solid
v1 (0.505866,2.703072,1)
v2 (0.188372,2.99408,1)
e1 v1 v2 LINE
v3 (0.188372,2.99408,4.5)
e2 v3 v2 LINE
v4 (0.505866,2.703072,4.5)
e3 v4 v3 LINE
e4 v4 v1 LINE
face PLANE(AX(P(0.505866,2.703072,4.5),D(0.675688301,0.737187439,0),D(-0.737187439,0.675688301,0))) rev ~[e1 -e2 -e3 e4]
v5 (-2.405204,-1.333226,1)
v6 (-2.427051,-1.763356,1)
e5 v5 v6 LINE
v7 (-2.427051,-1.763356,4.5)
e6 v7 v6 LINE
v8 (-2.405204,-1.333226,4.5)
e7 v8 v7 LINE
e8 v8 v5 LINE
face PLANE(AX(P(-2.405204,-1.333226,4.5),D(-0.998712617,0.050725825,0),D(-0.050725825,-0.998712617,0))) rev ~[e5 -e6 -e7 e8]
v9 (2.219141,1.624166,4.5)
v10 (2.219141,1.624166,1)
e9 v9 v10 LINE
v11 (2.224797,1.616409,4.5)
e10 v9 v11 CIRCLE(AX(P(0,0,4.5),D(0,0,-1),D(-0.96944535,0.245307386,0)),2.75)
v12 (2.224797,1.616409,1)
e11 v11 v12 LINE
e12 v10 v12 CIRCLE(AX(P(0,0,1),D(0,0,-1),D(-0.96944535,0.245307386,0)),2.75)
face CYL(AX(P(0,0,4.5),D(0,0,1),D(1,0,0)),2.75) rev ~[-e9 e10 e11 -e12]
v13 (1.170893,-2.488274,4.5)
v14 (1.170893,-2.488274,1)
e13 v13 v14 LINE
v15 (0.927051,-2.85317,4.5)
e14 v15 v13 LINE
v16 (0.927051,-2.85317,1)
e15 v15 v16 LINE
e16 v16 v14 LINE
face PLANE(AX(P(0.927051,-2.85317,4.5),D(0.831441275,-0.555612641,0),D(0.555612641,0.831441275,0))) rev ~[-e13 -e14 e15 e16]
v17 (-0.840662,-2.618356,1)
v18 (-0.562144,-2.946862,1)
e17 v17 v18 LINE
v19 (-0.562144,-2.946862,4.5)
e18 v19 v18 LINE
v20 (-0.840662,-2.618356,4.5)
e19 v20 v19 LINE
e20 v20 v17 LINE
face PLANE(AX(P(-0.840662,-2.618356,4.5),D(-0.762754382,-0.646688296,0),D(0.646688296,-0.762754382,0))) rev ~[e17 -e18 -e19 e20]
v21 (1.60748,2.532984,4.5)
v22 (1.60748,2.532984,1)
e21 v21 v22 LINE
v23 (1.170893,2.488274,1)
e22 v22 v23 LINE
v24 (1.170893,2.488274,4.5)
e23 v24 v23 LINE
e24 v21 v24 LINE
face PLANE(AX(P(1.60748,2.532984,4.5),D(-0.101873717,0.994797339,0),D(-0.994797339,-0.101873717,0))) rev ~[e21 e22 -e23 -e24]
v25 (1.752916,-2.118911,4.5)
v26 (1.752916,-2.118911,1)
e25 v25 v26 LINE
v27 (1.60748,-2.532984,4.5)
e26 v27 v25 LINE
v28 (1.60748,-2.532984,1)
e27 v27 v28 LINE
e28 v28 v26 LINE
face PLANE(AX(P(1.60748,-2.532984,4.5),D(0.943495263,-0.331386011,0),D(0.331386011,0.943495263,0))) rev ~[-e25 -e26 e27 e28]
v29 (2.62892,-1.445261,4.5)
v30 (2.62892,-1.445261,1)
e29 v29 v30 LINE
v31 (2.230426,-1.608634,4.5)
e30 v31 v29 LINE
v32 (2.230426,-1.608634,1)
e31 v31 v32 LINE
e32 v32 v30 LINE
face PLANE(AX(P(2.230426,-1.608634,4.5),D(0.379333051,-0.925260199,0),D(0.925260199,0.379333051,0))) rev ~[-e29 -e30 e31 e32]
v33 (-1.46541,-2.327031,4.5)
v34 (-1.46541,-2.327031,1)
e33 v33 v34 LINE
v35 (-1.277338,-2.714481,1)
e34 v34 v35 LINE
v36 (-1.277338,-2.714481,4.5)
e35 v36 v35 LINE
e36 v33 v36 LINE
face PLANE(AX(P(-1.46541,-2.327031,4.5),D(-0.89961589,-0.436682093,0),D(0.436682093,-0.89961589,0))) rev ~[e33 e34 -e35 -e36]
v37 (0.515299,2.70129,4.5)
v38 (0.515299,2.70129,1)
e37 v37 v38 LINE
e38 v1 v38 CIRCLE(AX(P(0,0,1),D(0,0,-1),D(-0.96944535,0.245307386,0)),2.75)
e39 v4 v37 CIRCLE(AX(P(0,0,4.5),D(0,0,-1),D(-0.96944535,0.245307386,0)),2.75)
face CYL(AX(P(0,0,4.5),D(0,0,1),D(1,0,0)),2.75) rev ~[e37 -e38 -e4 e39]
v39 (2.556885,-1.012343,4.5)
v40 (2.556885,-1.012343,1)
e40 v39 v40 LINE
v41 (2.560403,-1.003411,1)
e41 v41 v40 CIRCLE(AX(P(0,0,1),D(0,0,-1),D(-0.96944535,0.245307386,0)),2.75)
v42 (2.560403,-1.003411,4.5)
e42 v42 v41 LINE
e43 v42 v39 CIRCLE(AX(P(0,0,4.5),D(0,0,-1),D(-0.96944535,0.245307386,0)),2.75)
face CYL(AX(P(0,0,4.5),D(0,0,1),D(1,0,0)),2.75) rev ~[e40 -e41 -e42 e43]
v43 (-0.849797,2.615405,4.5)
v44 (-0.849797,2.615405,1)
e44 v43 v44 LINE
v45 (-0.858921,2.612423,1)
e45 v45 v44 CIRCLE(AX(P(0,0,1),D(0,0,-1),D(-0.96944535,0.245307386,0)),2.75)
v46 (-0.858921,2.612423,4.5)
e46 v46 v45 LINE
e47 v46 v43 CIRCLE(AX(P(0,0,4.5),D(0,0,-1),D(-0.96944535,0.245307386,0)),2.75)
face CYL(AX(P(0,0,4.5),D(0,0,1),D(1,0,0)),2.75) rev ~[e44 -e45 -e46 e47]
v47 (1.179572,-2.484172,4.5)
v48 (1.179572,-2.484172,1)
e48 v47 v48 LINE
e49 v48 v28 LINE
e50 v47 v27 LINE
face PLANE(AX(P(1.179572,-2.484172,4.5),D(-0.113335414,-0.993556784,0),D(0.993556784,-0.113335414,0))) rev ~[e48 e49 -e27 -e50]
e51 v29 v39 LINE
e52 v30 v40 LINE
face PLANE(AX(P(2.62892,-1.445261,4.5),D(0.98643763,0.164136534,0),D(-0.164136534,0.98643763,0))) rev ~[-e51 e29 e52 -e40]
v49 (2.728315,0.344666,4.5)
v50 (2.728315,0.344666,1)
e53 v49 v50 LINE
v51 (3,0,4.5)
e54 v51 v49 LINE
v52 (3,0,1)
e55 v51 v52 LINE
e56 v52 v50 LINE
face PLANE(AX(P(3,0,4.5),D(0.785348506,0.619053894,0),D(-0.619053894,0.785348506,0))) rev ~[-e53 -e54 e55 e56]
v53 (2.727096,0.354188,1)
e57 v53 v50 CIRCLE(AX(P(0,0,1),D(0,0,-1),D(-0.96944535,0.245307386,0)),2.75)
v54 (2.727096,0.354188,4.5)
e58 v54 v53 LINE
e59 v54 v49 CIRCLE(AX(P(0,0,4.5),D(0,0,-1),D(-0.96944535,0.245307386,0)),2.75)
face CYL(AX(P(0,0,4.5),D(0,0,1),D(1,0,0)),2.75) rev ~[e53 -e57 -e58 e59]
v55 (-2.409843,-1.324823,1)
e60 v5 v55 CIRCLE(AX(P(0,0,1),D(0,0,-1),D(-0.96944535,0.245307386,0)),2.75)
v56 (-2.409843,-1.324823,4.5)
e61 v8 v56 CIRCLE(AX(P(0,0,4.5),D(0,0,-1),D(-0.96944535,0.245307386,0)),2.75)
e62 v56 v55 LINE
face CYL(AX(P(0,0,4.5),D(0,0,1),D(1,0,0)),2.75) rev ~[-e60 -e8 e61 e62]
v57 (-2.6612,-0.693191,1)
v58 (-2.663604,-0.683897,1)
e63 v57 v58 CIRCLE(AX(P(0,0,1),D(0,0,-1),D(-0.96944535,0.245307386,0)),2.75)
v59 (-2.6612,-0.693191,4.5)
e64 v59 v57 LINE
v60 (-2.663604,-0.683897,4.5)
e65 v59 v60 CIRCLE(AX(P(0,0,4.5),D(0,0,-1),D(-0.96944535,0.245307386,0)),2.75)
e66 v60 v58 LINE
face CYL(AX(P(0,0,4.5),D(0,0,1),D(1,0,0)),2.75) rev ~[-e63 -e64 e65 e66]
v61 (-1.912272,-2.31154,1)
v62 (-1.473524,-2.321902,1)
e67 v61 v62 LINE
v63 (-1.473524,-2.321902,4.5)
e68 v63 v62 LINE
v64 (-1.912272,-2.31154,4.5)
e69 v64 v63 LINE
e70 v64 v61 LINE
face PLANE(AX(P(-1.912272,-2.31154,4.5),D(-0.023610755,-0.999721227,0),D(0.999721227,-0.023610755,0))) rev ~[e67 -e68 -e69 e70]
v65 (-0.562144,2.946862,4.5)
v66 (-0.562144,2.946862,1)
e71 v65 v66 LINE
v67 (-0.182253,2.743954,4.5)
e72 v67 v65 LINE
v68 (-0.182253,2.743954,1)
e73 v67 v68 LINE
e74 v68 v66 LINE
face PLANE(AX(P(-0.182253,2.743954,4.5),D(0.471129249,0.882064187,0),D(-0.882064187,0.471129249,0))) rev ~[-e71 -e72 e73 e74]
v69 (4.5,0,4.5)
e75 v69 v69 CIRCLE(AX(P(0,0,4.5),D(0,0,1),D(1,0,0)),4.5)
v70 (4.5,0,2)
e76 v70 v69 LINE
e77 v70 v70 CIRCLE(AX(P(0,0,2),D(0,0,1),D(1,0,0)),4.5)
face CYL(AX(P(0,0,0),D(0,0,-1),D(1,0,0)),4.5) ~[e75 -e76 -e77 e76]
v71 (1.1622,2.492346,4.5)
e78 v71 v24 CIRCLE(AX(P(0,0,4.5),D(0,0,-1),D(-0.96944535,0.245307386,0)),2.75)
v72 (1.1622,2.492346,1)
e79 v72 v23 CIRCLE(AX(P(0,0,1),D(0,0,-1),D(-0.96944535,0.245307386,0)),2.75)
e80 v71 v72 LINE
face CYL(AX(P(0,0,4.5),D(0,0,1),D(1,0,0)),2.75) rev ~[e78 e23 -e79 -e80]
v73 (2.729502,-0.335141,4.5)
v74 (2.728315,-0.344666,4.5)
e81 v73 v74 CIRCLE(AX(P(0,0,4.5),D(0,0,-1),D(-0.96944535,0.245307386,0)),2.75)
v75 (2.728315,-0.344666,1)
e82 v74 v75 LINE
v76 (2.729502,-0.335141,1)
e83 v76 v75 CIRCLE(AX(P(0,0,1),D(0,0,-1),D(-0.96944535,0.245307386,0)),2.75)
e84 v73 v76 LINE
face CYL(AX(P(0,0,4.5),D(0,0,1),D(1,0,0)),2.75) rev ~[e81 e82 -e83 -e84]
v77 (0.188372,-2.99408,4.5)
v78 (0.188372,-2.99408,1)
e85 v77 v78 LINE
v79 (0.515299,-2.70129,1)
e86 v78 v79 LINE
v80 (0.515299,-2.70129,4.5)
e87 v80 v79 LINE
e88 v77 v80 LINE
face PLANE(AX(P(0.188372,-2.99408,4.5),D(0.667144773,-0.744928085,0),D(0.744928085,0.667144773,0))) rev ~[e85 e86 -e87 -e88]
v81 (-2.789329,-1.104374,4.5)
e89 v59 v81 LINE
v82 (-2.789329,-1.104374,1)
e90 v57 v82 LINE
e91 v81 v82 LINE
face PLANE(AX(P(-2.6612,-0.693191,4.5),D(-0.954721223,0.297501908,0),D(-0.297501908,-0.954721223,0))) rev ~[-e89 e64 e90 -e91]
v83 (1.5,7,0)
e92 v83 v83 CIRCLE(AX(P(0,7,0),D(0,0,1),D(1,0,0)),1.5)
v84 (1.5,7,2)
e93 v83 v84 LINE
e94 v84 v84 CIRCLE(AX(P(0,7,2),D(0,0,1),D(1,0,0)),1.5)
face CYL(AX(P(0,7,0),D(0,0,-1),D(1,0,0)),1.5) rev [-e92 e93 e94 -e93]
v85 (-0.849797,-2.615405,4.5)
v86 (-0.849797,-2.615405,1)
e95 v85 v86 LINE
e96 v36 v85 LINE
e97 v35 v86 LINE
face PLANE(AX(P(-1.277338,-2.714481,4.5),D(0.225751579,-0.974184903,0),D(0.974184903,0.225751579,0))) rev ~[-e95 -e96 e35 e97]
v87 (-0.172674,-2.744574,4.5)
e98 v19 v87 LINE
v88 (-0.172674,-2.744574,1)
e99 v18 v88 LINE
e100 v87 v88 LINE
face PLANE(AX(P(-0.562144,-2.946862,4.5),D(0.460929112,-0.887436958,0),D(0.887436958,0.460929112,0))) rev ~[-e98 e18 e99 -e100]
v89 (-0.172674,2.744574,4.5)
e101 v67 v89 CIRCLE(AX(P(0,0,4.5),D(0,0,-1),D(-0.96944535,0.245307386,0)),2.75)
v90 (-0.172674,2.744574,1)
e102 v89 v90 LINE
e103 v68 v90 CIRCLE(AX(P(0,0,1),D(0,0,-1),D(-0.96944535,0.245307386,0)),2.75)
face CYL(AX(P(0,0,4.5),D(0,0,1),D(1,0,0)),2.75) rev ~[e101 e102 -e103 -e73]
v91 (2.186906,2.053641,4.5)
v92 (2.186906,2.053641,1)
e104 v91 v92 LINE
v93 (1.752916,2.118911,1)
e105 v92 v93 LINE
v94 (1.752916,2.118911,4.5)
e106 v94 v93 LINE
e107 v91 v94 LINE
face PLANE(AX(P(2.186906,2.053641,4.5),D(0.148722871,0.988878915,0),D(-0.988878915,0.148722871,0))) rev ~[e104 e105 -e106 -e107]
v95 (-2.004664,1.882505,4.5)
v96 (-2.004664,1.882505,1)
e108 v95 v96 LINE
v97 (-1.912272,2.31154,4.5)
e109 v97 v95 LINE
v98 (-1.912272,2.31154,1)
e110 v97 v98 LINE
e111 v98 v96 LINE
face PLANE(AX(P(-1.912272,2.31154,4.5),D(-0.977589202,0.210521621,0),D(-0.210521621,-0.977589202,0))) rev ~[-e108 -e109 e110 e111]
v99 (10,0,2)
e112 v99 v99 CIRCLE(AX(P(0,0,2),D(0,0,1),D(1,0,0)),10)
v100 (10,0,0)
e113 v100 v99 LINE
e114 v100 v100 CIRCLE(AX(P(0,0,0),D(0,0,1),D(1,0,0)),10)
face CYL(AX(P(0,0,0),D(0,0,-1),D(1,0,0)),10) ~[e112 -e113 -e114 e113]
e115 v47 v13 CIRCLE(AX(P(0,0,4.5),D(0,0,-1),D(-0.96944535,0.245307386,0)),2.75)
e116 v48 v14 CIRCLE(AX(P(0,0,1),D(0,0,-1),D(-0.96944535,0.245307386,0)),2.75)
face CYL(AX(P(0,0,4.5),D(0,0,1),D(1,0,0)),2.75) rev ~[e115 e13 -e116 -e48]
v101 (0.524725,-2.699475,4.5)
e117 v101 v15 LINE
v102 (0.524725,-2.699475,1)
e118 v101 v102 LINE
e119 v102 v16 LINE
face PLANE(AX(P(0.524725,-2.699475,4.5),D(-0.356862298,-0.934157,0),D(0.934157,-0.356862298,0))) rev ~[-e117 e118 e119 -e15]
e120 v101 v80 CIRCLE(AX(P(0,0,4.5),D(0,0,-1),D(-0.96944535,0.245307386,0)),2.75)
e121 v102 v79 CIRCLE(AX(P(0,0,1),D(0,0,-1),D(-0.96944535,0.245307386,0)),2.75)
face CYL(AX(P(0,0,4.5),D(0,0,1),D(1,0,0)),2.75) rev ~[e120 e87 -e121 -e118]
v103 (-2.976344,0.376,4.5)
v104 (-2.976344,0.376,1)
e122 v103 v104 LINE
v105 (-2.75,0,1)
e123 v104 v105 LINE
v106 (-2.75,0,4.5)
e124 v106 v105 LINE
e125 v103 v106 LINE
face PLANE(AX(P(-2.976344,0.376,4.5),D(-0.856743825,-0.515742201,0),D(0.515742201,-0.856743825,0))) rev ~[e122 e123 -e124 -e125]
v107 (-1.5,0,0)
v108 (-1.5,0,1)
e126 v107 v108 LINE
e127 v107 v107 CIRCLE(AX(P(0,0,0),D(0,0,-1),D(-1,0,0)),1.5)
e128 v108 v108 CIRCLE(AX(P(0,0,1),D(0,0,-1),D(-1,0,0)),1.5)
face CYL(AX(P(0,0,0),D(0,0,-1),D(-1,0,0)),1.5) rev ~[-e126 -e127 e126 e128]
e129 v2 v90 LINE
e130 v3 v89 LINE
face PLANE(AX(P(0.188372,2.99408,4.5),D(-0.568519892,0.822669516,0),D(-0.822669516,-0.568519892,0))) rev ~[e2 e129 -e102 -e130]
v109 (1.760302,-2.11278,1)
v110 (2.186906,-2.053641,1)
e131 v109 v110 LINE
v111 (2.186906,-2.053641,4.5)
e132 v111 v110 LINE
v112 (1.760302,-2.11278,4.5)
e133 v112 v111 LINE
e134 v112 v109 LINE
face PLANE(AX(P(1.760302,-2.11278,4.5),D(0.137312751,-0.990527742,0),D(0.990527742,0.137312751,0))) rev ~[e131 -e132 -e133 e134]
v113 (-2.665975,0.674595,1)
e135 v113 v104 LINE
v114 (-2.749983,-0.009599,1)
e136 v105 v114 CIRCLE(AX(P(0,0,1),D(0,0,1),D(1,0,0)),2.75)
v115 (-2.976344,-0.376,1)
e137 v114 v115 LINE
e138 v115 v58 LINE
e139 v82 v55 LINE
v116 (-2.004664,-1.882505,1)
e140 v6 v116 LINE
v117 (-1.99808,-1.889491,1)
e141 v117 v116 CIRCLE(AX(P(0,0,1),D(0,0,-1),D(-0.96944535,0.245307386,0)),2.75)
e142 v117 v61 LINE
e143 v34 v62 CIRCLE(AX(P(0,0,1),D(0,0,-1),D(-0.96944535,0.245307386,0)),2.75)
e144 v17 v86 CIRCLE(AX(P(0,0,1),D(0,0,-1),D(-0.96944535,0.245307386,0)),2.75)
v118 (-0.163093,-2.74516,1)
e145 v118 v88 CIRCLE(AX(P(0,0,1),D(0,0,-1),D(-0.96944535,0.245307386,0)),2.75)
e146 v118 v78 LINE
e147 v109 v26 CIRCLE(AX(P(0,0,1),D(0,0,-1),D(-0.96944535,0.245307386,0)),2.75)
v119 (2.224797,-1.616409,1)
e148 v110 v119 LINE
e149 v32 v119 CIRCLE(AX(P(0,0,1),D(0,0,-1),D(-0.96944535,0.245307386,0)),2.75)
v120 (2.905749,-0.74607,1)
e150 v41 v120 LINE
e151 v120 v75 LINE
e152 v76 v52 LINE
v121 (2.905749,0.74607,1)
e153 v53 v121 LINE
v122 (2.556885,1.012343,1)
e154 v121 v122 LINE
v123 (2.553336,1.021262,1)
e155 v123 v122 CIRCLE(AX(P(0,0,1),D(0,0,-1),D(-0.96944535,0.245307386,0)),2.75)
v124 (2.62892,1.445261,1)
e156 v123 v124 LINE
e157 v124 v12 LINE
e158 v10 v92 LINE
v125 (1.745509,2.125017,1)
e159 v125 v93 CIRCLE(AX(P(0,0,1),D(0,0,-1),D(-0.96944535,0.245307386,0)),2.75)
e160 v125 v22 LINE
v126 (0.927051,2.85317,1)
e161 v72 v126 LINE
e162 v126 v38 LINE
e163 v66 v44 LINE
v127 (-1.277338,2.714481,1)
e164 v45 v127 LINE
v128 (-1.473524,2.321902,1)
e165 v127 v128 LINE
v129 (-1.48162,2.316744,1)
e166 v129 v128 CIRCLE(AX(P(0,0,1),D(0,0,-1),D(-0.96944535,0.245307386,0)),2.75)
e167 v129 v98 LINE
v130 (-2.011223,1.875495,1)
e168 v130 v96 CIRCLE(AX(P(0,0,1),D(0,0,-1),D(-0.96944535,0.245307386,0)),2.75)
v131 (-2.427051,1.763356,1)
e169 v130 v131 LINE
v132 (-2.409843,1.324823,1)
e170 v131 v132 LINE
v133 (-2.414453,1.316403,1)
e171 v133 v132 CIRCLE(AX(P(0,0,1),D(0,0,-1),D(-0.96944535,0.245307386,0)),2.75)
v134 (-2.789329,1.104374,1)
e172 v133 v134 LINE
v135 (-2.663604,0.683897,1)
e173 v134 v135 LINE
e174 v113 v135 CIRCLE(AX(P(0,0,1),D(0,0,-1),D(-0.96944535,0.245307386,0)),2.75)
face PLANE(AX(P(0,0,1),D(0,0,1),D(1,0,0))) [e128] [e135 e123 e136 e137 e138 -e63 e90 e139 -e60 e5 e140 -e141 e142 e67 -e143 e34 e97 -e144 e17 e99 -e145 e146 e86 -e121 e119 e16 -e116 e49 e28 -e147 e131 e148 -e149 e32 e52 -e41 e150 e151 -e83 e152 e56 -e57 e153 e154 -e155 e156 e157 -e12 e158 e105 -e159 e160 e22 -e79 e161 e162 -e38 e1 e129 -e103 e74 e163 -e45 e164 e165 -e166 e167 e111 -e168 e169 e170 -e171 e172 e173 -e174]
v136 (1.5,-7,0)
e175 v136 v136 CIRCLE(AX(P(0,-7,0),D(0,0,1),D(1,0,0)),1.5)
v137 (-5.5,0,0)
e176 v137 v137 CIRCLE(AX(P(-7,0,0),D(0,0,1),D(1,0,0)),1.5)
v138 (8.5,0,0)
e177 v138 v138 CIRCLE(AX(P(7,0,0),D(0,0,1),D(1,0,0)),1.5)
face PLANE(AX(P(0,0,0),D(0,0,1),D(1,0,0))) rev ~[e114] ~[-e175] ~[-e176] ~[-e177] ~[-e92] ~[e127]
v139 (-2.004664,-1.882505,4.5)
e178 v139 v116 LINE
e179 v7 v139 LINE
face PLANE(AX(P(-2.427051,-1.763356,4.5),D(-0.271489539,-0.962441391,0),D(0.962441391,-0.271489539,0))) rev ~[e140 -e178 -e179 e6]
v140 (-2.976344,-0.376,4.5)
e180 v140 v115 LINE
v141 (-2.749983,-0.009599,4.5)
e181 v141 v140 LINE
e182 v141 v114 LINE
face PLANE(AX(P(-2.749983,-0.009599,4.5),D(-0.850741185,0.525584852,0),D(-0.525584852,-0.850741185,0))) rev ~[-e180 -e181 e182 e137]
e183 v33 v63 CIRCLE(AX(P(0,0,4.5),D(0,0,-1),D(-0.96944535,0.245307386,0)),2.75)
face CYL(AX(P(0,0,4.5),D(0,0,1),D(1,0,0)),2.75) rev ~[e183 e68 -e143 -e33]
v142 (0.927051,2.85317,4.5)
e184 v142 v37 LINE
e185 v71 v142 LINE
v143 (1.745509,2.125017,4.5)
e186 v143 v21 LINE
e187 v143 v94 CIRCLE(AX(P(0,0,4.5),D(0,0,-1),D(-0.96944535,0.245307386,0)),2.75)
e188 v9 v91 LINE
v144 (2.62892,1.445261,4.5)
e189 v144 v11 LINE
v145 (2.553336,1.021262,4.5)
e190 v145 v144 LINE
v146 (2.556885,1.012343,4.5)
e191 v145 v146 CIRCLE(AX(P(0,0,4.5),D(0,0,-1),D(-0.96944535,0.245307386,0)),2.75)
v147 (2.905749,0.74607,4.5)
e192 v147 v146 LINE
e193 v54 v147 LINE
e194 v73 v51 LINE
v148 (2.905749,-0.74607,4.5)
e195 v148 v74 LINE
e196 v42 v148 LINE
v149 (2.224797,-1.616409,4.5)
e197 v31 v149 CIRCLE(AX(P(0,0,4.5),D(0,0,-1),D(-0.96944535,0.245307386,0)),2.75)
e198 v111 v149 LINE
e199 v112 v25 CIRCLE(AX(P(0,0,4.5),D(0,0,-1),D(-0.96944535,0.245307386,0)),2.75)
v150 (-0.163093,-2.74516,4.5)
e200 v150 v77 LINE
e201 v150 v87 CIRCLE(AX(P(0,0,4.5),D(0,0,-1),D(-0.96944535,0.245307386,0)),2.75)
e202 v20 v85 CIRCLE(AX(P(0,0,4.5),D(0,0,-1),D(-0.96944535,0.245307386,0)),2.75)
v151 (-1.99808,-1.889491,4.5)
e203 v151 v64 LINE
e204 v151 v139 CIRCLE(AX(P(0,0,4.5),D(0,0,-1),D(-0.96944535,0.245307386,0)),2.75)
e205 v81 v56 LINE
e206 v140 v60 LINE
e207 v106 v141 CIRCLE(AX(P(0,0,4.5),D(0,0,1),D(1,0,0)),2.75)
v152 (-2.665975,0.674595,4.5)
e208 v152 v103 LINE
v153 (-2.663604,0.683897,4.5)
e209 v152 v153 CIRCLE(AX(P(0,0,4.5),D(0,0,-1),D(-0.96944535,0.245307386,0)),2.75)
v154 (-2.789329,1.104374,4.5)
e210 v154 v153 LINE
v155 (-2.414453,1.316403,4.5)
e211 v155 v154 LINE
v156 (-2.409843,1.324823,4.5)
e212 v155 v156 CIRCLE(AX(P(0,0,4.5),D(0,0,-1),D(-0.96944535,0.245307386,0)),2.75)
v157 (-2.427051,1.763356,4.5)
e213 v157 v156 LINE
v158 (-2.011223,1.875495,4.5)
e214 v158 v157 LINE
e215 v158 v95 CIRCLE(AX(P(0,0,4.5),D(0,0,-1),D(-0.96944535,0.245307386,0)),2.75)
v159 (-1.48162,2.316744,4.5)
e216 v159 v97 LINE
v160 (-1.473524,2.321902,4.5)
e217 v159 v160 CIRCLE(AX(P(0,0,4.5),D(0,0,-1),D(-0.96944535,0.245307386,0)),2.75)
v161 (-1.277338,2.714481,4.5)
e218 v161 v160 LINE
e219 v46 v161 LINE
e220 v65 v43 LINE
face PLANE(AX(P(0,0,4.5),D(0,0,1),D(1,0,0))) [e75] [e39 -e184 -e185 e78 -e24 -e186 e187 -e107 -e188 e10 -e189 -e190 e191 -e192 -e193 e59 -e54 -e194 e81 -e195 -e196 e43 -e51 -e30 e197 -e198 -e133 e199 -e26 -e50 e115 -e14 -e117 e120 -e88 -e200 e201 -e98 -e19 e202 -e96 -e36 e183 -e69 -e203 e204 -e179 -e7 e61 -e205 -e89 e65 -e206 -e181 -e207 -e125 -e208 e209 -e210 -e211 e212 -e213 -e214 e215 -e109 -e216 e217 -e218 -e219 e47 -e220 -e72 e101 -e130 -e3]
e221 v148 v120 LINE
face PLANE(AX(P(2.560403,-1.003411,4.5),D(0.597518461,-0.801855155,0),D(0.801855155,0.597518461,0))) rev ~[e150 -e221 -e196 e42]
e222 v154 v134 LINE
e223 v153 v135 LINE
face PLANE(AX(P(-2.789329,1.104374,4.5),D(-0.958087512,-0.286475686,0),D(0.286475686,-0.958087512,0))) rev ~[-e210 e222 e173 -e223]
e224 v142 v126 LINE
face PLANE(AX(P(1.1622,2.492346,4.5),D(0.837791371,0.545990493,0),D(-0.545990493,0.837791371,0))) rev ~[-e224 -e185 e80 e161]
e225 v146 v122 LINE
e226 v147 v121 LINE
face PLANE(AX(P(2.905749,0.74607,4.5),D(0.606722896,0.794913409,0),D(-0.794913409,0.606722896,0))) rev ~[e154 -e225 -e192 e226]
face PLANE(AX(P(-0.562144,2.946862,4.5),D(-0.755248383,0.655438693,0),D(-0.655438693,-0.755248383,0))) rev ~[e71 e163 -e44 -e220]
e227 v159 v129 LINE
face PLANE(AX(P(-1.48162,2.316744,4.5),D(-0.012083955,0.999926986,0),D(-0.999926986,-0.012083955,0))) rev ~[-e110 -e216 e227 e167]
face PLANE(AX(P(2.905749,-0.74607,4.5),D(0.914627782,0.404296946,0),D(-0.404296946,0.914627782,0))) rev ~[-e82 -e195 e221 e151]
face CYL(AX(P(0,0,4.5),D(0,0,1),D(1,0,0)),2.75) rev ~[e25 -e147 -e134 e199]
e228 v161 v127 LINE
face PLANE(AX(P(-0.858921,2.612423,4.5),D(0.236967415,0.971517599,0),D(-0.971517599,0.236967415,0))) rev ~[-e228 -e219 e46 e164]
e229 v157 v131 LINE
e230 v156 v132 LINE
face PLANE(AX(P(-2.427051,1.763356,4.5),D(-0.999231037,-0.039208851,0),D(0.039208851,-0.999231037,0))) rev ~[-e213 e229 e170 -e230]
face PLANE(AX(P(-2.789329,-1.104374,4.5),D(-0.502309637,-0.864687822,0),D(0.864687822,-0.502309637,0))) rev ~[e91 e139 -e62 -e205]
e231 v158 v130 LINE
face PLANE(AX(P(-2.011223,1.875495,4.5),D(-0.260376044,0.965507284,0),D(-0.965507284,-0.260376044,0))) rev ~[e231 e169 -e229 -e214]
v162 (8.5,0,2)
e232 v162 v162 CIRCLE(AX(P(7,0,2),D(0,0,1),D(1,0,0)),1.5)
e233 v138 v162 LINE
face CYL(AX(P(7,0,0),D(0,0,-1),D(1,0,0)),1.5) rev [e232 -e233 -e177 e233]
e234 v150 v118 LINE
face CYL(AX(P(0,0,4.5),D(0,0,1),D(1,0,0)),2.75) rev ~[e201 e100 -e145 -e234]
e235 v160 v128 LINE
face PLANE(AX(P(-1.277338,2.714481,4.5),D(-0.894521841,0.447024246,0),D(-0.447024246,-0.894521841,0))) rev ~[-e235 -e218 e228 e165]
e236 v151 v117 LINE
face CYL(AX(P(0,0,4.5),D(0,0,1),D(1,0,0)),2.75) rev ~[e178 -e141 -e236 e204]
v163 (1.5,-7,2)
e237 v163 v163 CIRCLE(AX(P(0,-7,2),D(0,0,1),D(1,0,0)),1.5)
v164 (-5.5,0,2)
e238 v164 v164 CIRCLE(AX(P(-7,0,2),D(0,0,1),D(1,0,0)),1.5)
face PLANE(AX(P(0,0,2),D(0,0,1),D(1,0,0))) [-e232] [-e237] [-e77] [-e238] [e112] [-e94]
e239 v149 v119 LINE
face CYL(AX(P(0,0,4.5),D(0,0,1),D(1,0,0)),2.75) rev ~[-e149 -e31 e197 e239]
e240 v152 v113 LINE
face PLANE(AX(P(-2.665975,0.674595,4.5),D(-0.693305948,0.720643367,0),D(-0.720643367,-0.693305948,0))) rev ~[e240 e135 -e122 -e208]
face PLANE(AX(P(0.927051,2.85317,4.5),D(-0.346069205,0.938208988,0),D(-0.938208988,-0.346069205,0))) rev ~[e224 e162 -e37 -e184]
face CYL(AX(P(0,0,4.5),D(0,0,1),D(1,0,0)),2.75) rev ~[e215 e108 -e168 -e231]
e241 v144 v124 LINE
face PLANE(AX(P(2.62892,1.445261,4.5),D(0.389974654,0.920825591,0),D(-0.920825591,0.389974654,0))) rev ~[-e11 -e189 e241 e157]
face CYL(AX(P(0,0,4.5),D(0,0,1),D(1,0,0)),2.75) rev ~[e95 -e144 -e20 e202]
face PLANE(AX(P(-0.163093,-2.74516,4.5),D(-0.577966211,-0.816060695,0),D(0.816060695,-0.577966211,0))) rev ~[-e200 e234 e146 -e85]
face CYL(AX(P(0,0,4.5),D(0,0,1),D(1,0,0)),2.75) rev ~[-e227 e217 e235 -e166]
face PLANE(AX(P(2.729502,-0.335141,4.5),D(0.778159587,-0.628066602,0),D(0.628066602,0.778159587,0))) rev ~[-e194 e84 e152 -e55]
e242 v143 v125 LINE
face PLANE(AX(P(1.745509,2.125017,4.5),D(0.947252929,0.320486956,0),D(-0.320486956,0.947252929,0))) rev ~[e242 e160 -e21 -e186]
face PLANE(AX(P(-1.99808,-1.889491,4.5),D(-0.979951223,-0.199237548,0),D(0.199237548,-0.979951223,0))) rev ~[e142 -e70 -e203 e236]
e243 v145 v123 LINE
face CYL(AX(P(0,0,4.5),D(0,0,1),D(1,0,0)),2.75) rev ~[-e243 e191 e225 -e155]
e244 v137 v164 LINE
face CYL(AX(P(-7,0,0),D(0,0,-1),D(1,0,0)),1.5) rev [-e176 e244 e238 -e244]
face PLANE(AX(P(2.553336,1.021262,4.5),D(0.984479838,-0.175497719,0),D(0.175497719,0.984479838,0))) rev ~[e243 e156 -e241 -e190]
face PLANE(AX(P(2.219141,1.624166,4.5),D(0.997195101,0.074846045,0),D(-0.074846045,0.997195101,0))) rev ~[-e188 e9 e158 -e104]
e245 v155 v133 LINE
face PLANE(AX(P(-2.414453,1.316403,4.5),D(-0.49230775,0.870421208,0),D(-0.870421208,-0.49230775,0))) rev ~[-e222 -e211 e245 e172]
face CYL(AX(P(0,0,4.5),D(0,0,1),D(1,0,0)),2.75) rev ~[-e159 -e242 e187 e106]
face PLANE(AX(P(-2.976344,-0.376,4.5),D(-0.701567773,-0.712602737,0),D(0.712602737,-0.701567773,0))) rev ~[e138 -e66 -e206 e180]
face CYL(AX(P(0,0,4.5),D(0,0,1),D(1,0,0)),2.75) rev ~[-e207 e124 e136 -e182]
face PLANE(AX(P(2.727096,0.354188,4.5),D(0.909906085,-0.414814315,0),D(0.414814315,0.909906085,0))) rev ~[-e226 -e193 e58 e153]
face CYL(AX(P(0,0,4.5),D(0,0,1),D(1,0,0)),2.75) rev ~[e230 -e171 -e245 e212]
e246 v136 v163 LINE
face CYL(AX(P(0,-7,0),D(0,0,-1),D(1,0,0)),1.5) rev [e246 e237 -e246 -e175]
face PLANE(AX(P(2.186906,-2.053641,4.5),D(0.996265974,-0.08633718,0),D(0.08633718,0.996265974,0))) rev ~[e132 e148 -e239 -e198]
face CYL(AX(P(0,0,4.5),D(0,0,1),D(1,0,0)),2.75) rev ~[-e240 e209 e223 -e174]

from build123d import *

# Parameters (mm, degrees)
SKETCH1_R           = 10
SKETCH1_R_2         = 1.5
SKETCH1_R_3         = 4.5
BOSS_EXTRUDE1_DEPTH = 2
SKETCH1_2_R         = 4.5
BOSS_EXTRUDE2_DEPTH = 4.5
SKETCH2_R           = 1.5
CUT_EXTRUDE1_DEPTH  = 4.5
SKETCH3_R           = 2.75
CUT_EXTRUDE2_DEPTH  = 3.5
CUT_EXTRUDE3_DEPTH  = 3.5
CIRPATTERN1_COUNT   = 25


with BuildPart() as part:
    # Sketch1 → Boss-Extrude1 (new body)
    with BuildSketch(Plane.XY):
        Circle(SKETCH1_R)
        with Locations((0, 7)):
            Circle(SKETCH1_R_2, mode=Mode.SUBTRACT)
        with Locations((7, 0)):
            Circle(SKETCH1_R_2, mode=Mode.SUBTRACT)
        with Locations((0, -7)):
            Circle(SKETCH1_R_2, mode=Mode.SUBTRACT)
        with Locations((-7, 0)):
            Circle(SKETCH1_R_2, mode=Mode.SUBTRACT)
        Circle(SKETCH1_R_3, mode=Mode.SUBTRACT)
    extrude(amount=BOSS_EXTRUDE1_DEPTH)

    # Sketch1<2> → Boss-Extrude2 (add)
    with BuildSketch(Plane.XY):
        Circle(SKETCH1_2_R)
    extrude(amount=BOSS_EXTRUDE2_DEPTH)

    # Sketch2 → Cut-Extrude1 (cut)
    with BuildSketch(Plane(origin=(0, 0, 0), x_dir=(-1, 0, 0), z_dir=(0, 0, -1))):
        Circle(SKETCH2_R)
    extrude(amount=-CUT_EXTRUDE1_DEPTH, mode=Mode.SUBTRACT)

    # Sketch3 → Cut-Extrude2 (cut)
    with BuildSketch(Plane.XY.offset(4.5)):
        Circle(SKETCH3_R)
    extrude(amount=-CUT_EXTRUDE2_DEPTH, mode=Mode.SUBTRACT)

    # Sketch4 → Cut-Extrude3 (cut)
    with BuildSketch(Plane.XY.offset(4.5)):
        with BuildLine():
            Line((-2.976344104, 0.375999701), (-2.75, 0))
            ThreePointArc((-2.75, 0), (-2.728912829, 0.339904061), (-2.665974712, 0.674595311))
            Line((-2.665974712, 0.674595311), (-2.976344104, 0.375999701))
        make_face()
    cut_extrude3 = extrude(amount=-CUT_EXTRUDE3_DEPTH, mode=Mode.SUBTRACT)

    # CirPattern1: Cut-Extrude3 ×25 about axis
    cirpattern1_axis = Axis((0, 0, 4.5), (0, 0, -1))
    for i in range(1, CIRPATTERN1_COUNT):
        add(cut_extrude3.rotate(cirpattern1_axis, i * 360 / CIRPATTERN1_COUNT), mode=Mode.SUBTRACT)


solid = part.part
